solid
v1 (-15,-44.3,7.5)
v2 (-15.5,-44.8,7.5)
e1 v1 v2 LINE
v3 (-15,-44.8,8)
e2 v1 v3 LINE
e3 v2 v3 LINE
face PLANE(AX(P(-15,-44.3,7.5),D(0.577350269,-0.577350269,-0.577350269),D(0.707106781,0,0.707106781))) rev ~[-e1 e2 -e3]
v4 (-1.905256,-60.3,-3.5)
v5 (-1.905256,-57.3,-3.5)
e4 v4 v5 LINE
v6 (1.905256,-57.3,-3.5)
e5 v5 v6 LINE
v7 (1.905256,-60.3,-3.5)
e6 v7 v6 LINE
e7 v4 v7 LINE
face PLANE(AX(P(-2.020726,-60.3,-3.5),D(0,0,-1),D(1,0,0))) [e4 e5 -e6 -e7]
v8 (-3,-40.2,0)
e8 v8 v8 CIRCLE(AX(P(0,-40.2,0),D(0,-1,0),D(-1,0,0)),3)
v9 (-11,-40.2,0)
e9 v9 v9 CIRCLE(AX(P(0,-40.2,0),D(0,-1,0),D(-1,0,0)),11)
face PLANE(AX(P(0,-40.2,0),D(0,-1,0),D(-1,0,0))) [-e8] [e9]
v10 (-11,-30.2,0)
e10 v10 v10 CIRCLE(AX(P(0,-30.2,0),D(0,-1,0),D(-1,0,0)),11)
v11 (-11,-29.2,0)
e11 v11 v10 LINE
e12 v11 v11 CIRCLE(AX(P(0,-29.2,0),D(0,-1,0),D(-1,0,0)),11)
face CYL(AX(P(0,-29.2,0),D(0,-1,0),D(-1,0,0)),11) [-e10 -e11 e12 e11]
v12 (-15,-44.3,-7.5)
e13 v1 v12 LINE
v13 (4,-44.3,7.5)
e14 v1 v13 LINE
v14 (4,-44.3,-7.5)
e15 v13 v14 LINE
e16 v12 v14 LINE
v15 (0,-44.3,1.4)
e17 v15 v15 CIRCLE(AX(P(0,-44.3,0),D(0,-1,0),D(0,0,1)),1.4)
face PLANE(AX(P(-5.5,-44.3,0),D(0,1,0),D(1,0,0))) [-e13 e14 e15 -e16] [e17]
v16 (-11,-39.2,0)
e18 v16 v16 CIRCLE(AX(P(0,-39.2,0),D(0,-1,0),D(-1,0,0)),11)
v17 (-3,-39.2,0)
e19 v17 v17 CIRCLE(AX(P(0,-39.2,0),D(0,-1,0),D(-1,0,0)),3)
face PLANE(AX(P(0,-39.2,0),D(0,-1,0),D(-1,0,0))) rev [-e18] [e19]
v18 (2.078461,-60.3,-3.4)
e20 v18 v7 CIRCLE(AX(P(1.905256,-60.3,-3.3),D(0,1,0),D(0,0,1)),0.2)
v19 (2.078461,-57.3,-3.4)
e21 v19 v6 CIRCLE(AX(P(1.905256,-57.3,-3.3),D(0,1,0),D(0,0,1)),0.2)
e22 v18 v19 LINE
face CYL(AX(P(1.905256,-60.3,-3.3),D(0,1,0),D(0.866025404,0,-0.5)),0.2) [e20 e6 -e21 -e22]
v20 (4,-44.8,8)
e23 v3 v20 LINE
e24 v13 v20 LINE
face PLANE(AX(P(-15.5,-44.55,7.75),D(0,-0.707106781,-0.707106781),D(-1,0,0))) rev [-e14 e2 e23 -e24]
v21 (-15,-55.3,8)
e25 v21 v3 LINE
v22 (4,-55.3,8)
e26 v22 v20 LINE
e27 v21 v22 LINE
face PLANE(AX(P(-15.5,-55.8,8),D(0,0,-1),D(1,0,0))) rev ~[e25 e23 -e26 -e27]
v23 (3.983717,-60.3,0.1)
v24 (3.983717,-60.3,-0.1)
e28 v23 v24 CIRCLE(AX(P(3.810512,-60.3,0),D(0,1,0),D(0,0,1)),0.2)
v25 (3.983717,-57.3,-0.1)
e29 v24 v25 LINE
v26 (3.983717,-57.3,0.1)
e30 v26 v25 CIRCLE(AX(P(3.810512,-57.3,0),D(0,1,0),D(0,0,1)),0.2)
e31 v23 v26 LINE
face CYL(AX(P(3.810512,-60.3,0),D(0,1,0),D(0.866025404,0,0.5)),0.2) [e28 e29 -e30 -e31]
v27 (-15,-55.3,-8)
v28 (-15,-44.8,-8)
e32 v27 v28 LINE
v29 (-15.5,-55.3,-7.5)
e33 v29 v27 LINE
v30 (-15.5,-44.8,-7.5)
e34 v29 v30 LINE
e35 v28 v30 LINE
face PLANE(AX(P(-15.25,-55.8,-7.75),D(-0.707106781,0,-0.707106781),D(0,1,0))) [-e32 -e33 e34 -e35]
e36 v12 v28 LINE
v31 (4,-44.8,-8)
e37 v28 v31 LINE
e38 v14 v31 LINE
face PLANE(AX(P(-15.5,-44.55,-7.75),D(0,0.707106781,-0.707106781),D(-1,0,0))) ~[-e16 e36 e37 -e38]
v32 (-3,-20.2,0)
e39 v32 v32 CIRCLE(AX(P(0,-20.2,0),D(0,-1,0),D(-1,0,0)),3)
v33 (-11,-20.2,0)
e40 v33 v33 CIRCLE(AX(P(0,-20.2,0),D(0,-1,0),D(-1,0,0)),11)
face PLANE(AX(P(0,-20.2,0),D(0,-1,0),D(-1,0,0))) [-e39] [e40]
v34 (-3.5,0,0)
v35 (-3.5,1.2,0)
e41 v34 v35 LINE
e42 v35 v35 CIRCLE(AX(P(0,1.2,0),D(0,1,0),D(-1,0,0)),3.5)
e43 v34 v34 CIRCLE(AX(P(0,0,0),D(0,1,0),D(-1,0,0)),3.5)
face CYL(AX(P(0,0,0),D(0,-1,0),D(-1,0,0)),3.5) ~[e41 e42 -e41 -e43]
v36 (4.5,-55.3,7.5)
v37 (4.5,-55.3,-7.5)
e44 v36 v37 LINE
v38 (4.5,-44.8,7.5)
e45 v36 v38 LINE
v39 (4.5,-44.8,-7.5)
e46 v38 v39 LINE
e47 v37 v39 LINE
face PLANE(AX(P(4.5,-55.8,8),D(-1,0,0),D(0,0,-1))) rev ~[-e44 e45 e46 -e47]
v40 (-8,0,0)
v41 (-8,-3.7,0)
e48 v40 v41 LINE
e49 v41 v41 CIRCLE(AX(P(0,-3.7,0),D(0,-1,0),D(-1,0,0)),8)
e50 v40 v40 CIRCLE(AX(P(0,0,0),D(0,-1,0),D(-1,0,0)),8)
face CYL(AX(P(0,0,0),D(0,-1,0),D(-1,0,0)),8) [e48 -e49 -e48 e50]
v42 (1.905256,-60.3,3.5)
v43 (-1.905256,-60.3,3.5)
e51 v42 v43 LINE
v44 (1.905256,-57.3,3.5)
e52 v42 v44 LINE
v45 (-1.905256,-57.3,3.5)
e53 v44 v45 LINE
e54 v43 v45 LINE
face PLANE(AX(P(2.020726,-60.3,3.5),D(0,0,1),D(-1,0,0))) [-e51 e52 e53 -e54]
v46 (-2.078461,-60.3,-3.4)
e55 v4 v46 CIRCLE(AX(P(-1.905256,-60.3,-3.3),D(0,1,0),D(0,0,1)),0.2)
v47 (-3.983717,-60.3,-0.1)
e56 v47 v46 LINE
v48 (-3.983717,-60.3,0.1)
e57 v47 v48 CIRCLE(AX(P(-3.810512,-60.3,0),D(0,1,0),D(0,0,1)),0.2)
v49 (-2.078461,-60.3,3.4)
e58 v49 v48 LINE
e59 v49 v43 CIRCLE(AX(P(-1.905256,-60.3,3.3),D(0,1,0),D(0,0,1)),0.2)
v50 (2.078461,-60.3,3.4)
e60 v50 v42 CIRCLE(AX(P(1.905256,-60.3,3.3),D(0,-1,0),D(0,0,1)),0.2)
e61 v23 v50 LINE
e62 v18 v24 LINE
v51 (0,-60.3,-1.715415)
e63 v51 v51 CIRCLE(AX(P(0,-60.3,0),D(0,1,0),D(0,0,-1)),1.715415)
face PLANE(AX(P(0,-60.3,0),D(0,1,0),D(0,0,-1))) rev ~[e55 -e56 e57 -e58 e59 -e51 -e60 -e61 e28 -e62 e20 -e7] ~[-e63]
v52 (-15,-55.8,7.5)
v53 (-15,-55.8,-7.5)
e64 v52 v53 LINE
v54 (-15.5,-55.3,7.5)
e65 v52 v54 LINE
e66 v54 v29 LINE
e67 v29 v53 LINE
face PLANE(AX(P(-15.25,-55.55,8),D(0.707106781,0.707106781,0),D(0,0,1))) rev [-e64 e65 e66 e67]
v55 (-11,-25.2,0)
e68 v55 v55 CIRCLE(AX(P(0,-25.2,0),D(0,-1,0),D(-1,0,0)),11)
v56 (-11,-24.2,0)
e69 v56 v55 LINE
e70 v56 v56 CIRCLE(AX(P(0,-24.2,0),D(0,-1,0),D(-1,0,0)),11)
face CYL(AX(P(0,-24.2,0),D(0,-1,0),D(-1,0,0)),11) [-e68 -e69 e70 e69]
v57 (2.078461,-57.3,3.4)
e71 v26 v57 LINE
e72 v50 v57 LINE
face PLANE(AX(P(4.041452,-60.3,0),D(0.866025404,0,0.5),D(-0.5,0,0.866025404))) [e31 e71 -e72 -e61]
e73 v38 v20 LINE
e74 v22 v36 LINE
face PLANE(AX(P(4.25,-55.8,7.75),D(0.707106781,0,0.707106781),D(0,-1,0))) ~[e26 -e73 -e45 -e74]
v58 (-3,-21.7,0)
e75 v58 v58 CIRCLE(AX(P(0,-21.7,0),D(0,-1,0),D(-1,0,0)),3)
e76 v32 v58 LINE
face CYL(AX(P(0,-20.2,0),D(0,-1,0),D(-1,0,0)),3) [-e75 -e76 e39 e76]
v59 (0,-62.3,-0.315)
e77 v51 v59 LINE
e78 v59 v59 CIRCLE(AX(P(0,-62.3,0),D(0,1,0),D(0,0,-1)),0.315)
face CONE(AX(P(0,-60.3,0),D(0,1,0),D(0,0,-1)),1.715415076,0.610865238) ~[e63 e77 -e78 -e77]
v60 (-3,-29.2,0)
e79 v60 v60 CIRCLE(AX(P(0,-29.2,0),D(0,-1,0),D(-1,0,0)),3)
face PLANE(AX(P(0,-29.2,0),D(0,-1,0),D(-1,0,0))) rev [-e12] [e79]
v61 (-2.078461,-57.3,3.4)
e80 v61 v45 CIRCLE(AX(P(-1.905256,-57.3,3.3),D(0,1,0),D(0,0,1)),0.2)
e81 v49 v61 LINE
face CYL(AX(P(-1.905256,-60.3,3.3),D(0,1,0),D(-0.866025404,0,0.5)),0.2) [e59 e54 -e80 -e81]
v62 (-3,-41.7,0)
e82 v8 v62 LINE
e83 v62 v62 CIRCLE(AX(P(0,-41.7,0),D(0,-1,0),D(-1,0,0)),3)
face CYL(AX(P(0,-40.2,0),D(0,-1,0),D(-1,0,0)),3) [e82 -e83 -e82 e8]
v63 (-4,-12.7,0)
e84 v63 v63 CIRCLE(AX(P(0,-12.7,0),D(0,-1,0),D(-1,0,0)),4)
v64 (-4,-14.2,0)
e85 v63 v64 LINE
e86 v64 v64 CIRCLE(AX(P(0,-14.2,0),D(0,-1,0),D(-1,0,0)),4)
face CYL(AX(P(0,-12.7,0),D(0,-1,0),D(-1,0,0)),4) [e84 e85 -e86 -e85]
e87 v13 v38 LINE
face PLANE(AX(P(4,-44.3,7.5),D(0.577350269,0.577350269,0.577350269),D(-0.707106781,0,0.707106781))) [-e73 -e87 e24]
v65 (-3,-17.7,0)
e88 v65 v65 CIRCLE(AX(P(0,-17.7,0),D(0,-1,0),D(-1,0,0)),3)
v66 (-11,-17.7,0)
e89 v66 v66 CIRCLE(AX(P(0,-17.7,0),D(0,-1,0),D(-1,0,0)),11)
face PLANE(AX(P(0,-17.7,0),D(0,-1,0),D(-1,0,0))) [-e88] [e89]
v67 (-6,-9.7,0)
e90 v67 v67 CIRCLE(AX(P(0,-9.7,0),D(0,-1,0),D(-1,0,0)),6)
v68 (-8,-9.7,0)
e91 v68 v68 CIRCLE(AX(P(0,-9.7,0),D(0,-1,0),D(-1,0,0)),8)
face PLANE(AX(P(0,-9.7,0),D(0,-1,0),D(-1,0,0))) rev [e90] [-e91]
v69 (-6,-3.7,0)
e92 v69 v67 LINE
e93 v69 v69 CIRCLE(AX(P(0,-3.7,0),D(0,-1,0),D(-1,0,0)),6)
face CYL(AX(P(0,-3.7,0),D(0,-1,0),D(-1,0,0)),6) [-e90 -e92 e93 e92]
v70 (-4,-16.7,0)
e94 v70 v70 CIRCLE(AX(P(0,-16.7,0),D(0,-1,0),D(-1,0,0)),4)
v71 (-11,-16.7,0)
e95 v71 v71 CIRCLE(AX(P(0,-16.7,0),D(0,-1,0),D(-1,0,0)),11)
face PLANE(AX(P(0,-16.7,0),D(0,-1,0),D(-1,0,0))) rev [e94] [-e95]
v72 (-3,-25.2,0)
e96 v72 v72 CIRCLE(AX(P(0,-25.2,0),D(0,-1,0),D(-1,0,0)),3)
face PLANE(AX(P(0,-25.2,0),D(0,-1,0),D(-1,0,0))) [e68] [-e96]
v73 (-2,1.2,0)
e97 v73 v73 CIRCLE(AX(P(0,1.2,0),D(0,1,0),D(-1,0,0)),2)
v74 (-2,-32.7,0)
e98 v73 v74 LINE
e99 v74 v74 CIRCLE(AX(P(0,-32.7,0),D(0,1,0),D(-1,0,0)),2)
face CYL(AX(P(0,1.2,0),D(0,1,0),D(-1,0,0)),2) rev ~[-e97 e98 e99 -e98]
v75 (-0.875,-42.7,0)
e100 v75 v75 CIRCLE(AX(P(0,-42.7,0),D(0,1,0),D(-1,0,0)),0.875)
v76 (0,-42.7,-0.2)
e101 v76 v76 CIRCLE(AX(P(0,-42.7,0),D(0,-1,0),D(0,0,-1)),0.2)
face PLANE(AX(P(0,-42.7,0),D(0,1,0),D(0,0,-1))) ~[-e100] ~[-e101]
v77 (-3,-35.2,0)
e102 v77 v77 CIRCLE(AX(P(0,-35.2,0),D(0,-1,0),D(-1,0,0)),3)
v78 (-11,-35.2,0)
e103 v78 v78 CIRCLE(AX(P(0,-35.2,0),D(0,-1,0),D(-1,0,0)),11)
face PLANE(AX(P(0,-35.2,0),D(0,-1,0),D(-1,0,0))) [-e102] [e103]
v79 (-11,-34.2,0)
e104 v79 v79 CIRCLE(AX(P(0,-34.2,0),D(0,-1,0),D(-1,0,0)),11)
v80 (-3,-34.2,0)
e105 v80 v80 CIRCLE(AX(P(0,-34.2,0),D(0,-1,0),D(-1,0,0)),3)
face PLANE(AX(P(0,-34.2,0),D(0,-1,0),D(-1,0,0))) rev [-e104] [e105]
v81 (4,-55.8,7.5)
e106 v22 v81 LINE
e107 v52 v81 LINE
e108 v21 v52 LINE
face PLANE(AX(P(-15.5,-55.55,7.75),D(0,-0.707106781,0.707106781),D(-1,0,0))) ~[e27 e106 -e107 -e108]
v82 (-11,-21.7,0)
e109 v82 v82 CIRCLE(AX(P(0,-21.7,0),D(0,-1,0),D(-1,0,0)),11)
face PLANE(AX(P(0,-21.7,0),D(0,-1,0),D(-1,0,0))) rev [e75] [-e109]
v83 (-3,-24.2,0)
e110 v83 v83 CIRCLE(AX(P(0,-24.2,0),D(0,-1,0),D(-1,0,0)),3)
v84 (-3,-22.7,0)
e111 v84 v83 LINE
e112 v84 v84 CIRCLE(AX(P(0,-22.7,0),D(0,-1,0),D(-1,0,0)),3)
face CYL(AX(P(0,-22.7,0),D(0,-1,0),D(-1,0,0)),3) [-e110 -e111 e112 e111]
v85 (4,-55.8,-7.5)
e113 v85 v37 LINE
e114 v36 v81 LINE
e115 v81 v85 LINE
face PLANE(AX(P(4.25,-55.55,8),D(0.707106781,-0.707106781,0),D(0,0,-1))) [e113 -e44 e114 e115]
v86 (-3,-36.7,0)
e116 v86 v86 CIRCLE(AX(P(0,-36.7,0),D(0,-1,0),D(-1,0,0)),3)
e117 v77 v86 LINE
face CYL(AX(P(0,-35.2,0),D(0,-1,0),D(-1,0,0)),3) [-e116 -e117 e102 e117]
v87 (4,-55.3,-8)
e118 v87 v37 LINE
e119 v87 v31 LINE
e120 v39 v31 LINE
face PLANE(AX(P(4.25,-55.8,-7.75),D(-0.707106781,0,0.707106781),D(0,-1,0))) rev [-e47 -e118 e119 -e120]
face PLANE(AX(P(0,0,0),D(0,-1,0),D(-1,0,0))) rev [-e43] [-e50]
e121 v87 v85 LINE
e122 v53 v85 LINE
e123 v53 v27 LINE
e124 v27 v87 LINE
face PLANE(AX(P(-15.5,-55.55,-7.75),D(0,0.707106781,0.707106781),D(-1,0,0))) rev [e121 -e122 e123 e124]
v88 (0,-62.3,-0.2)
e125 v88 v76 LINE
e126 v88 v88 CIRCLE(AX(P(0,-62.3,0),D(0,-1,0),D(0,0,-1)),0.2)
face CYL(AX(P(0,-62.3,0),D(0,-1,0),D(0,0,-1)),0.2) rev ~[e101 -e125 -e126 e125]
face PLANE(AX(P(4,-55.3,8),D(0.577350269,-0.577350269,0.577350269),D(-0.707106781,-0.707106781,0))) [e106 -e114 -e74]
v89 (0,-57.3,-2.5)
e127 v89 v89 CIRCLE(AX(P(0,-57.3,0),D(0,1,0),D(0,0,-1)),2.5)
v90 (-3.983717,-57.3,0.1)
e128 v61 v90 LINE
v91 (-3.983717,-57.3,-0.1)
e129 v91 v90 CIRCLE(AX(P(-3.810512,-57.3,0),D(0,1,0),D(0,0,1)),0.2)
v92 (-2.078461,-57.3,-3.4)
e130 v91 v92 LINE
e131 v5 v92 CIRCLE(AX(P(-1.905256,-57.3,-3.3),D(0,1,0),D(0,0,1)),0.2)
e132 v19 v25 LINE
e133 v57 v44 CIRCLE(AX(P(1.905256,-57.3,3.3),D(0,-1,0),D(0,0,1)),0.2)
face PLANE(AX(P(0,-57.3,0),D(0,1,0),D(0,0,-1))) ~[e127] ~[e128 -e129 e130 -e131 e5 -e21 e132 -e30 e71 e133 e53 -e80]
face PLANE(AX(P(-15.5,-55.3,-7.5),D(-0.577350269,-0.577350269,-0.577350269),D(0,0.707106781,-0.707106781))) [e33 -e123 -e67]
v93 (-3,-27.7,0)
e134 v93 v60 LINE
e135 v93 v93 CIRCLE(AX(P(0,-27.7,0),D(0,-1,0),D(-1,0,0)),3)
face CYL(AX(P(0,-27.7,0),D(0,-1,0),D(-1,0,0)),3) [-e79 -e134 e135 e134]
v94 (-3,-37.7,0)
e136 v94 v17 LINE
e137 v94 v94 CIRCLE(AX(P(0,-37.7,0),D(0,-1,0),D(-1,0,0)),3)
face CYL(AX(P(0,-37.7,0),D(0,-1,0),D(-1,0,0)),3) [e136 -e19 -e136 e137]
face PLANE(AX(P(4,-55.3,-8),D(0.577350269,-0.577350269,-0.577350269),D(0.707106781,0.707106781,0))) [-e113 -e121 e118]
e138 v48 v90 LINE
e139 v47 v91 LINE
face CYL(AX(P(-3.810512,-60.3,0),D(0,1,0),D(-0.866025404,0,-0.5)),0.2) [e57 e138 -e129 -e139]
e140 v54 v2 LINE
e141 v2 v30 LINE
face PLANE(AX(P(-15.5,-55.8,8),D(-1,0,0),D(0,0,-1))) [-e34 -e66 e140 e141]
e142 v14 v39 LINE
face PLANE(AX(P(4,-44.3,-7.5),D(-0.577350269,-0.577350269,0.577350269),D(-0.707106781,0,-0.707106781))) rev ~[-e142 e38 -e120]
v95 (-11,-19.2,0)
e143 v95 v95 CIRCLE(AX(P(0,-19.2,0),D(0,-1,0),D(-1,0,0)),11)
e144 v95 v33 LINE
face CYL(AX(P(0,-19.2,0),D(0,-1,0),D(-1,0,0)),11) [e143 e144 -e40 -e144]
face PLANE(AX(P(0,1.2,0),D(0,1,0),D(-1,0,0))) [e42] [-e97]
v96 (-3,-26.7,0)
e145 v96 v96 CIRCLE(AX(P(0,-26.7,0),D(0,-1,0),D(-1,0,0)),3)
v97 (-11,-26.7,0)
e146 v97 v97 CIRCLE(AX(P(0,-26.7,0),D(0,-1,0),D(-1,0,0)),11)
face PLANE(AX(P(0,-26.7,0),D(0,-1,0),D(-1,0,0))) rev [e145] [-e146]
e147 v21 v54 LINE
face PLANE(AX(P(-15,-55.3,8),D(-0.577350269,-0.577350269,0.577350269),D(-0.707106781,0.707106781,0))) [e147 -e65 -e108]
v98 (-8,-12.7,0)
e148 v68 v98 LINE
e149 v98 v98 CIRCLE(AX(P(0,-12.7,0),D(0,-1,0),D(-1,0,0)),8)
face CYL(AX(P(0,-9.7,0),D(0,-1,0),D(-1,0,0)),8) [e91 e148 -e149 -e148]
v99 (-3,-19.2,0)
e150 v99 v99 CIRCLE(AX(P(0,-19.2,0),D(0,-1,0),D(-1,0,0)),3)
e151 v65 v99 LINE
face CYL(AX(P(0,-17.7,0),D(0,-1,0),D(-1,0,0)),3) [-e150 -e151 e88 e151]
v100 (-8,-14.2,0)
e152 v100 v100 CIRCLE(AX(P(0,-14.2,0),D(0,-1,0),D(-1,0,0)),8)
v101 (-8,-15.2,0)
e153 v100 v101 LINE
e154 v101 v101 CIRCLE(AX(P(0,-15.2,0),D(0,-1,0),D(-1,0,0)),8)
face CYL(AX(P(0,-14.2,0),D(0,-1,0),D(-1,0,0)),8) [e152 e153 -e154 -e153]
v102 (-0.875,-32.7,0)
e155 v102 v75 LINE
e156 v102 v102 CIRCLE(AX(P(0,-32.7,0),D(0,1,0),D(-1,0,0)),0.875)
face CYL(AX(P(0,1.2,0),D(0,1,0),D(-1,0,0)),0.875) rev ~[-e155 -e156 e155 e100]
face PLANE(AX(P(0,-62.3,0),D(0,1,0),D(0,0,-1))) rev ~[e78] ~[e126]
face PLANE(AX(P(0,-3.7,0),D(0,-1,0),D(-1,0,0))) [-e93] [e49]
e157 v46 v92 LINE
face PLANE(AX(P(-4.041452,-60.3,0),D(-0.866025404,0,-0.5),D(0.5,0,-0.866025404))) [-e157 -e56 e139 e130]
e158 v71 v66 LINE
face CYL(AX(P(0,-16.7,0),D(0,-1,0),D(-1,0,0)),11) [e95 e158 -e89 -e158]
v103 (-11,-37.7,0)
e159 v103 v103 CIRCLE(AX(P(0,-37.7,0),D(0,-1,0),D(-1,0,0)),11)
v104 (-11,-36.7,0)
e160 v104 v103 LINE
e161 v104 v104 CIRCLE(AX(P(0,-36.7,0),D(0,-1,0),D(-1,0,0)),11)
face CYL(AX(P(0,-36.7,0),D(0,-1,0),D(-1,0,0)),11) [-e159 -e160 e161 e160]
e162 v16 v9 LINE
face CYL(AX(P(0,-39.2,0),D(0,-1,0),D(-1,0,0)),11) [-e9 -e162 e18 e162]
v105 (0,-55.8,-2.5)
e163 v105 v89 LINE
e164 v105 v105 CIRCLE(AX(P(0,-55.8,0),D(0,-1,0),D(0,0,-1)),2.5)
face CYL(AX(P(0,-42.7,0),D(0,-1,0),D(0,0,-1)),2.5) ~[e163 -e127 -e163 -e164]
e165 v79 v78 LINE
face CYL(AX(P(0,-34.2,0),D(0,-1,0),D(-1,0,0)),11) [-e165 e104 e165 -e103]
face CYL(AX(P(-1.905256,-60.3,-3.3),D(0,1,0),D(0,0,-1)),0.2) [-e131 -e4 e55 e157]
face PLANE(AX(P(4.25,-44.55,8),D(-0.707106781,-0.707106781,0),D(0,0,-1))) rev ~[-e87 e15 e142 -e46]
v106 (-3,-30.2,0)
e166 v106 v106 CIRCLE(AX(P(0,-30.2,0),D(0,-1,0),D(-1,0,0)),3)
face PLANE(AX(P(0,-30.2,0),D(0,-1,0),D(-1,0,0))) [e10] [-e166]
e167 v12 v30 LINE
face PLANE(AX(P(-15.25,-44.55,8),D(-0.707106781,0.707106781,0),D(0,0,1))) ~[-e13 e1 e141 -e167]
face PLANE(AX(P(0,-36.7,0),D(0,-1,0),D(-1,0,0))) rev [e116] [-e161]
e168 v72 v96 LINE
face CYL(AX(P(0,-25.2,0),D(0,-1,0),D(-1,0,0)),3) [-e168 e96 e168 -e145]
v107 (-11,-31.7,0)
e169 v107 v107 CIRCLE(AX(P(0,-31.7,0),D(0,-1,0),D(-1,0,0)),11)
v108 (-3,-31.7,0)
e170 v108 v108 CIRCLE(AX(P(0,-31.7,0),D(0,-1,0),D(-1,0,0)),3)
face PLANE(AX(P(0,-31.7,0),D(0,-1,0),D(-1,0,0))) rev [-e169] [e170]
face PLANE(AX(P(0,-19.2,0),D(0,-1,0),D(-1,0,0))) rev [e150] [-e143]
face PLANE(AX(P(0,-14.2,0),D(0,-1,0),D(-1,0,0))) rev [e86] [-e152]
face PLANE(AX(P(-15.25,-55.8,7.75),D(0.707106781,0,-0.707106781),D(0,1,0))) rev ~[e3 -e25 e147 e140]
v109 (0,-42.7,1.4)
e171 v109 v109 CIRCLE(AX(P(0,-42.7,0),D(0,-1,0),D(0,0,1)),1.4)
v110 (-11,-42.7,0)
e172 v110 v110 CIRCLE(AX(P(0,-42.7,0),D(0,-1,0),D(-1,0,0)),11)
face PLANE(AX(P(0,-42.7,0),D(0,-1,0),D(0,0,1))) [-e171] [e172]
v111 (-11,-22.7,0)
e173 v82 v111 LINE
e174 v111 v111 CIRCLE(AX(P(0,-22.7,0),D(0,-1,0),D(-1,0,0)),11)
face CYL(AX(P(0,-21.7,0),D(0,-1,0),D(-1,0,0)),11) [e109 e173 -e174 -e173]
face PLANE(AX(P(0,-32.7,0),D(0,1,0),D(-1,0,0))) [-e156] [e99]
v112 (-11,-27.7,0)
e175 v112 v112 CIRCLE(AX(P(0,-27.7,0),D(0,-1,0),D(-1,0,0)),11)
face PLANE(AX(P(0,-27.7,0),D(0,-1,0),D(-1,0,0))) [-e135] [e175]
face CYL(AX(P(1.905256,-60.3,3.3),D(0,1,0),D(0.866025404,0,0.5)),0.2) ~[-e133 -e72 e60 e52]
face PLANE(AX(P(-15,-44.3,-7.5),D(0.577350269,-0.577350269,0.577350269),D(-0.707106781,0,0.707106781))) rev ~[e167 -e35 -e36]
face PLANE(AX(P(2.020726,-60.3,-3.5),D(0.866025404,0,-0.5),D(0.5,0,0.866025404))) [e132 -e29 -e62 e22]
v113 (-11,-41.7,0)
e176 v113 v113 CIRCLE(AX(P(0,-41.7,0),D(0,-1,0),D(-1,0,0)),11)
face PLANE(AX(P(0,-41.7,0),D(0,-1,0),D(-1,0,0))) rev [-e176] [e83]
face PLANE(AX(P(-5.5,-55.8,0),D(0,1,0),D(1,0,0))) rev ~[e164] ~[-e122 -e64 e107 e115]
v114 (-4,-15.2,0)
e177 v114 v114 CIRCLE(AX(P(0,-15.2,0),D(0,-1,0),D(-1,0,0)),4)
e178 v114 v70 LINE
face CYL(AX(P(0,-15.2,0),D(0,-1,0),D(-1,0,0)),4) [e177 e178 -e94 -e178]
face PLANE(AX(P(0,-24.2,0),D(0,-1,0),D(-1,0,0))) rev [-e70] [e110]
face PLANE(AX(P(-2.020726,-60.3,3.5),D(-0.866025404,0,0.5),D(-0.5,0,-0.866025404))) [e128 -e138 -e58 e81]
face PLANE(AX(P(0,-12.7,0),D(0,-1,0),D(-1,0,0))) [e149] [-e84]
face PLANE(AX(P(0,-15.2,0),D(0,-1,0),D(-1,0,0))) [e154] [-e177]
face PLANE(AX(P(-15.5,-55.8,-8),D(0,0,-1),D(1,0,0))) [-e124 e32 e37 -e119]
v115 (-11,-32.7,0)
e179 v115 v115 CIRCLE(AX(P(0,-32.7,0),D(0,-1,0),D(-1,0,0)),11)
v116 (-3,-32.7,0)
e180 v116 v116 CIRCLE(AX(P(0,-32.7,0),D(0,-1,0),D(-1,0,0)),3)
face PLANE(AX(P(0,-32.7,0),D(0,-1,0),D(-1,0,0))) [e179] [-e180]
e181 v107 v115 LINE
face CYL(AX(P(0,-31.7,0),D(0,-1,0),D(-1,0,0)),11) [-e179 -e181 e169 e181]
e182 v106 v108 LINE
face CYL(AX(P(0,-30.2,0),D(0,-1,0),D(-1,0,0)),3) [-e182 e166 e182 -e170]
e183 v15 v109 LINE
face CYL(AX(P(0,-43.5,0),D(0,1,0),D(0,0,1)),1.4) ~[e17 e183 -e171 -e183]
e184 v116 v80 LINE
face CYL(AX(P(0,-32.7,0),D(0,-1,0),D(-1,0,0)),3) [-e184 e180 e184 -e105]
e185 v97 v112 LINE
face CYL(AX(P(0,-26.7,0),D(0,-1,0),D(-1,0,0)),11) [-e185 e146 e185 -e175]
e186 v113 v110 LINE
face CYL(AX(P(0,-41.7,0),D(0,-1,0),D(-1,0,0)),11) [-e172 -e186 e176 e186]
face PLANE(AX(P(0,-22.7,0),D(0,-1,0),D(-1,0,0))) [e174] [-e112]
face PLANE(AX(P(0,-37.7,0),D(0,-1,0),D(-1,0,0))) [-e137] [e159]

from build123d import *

# Parameters (mm, degrees)
SKETCH2_R           = 3.5
BOSS_EXTRUDE1_DEPTH = 1.2
SKETCH3_R           = 0.875
CUT_EXTRUDE1_DEPTH  = 47.574778582
SKETCH10_R          = 2
CUT_EXTRUDE4_DEPTH  = 33.9
SKETCH6_OUTSIDE_W   = 38.142
SKETCH6_OUTSIDE_H   = 38.142
CUT_EXTRUDE2_DEPTH  = 3
FILLET1_R           = 0.2
BOSS_EXTRUDE2_START = 1.5
SKETCH7_W           = 20
SKETCH7_H           = 16
BOSS_EXTRUDE2_DEPTH = 11.5
CHAMFER2_SIZE       = 0.5
SKETCH8_R           = 0.2
CUT_EXTRUDE3_DEPTH  = 67.283482105
SKETCH9_W           = 1.6
SKETCH9_H           = 1.6


with BuildPart() as part:
    # Sketch1 → Revolve1 (revolve)
    with BuildSketch(Plane.XY):
        Polygon((0, 0), (-8, 0), (-8, -3.7), (-6, -3.7), (-6, -9.7), (-8, -9.7), (-8, -12.7), (-4, -12.7), (-4, -14.2), (-8, -14.2), (-8, -15.2), (-4, -15.2), (-4, -16.7), (-11, -16.7), (-11, -17.7), (-3, -17.7), (-3, -19.2), (-11, -19.2), (-11, -20.2), (-3, -20.2), (-3, -21.7), (-11, -21.7), (-11, -22.7), (-3, -22.7), (-3, -24.2), (-11, -24.2), (-11, -25.2), (-3, -25.2), (-3, -26.7), (-11, -26.7), (-11, -27.7), (-3, -27.7), (-3, -29.2), (-11, -29.2), (-11, -30.2), (-3, -30.2), (-3, -31.7), (-11, -31.7), (-11, -32.7), (-3, -32.7), (-3, -34.2), (-11, -34.2), (-11, -35.2), (-3, -35.2), (-3, -36.7), (-11, -36.7), (-11, -37.7), (-3, -37.7), (-3, -39.2), (-11, -39.2), (-11, -40.2), (-3, -40.2), (-3, -41.7), (-11, -41.7), (-11, -42.7), (0, -42.7), align=None)
    revolve(axis=Axis((0, 0, 0), (0, -1, 0)))

    # Sketch2 → Boss-Extrude1 (add)
    with BuildSketch(Plane(origin=(0, 0, 0), x_dir=(1, 0, 0), z_dir=(0, 1, 0))):
        with Locations(Location((0, 0, 0), (0, 0, 180))):
            Circle(SKETCH2_R)
    extrude(amount=BOSS_EXTRUDE1_DEPTH)

    # Sketch3 → Cut-Extrude1 (cut, through all)
    with BuildSketch(Plane(origin=(0, 1.2, 0), x_dir=(1, 0, 0), z_dir=(0, 1, 0))):
        with Locations(Location((0, 0, 0), (0, 0, 180))):
            Circle(SKETCH3_R)
    extrude(amount=-CUT_EXTRUDE1_DEPTH, mode=Mode.SUBTRACT)

    # Sketch10 → Cut-Extrude4 (cut)
    with BuildSketch(Plane(origin=(0, 1.2, 0), x_dir=(1, 0, 0), z_dir=(0, 1, 0))):
        with Locations(Location((0, 0, 0), (0, 0, 180))):
            Circle(SKETCH10_R)
    extrude(amount=-CUT_EXTRUDE4_DEPTH, mode=Mode.SUBTRACT)

    # Sketch5 → Revolve2 (revolve)
    with BuildSketch(Plane.XY, mode=Mode.PRIVATE) as revolve2_sk:
        Polygon((0, -42.7), (-2.5, -42.7), (-2.5, -57.3), (-5, -57.3), (-5, -60.3), (-1.715415076, -60.3), (-0.315, -62.3), (0, -62.3), align=None)
    revolve(revolve2_sk.sketch.rotate(Axis((0, -62.3, 0), (0, 1, 0)), 270), axis=Axis((0, -62.3, 0), (0, 1, 0)))

    # Sketch6 outside → Cut-Extrude2 (cut)
    with BuildSketch(Plane.XZ.offset(60.3)):
        Rectangle(SKETCH6_OUTSIDE_W, SKETCH6_OUTSIDE_H)
        Polygon((2.020725942, 3.5), (-2.020725942, 3.5), (-4.041451884, 0), (-2.020725942, -3.5), (2.020725942, -3.5), (4.041451884, 0), align=None, mode=Mode.SUBTRACT)
    extrude(amount=-CUT_EXTRUDE2_DEPTH, mode=Mode.SUBTRACT)

    # Fillet1
    fillet1_edges = [part.edges().sort_by_distance(p)[0] for p in [
        (2.020725942, -58.8, 3.5),
        (-2.020725942, -58.8, 3.5),
        (-4.041451884, -58.8, 0),
        (-2.020725942, -58.8, -3.5),
        (2.020725942, -58.8, -3.5),
        (4.041451884, -58.8, 0),
    ]]
    fillet(fillet1_edges, radius=FILLET1_R)

    # Sketch7 → Boss-Extrude2 (add)
    with BuildSketch(Plane(origin=(0, -57.3, 0), x_dir=(1, 0, 0), z_dir=(0, 1, 0)).offset(BOSS_EXTRUDE2_START)):
        with Locations((-5.5, 0)):
            Rectangle(SKETCH7_W, SKETCH7_H)
    extrude(amount=BOSS_EXTRUDE2_DEPTH)

    # Chamfer2
    chamfer2_edges = [part.edges().sort_by_distance(p)[0] for p in [
        (4.5, -55.8, 0),
        (4.5, -50.05, 8),
        (-5.5, -55.8, -8),
        (4.5, -50.05, -8),
        (-15.5, -55.8, 0),
        (-15.5, -50.05, -8),
        (-5.5, -55.8, 8),
        (-15.5, -50.05, 8),
        (4.5, -44.3, 0),
        (-5.5, -44.3, -8),
        (-15.5, -44.3, 0),
        (-5.5, -44.3, 8),
    ]]
    chamfer(chamfer2_edges, length=CHAMFER2_SIZE)

    # Sketch8 → Cut-Extrude3 (cut, through all)
    with BuildSketch(Plane.XZ.offset(62.3)):
        with Locations(Location((0, 0, 0), (0, 0, 270))):
            Circle(SKETCH8_R)
    extrude(amount=-CUT_EXTRUDE3_DEPTH, mode=Mode.SUBTRACT)

    # Sketch9 → Cut-Revolve1 (revolve, cut)
    with BuildSketch(Plane.XY, mode=Mode.PRIVATE) as cut_revolve1_sk:
        with Locations((-2.2, -43.5)):
            Rectangle(SKETCH9_W, SKETCH9_H)
    revolve(cut_revolve1_sk.sketch.rotate(Axis((0, -42.7, 0), (0, -1, 0)), 270), axis=Axis((0, -42.7, 0), (0, -1, 0)), mode=Mode.SUBTRACT)


solid = part.part
